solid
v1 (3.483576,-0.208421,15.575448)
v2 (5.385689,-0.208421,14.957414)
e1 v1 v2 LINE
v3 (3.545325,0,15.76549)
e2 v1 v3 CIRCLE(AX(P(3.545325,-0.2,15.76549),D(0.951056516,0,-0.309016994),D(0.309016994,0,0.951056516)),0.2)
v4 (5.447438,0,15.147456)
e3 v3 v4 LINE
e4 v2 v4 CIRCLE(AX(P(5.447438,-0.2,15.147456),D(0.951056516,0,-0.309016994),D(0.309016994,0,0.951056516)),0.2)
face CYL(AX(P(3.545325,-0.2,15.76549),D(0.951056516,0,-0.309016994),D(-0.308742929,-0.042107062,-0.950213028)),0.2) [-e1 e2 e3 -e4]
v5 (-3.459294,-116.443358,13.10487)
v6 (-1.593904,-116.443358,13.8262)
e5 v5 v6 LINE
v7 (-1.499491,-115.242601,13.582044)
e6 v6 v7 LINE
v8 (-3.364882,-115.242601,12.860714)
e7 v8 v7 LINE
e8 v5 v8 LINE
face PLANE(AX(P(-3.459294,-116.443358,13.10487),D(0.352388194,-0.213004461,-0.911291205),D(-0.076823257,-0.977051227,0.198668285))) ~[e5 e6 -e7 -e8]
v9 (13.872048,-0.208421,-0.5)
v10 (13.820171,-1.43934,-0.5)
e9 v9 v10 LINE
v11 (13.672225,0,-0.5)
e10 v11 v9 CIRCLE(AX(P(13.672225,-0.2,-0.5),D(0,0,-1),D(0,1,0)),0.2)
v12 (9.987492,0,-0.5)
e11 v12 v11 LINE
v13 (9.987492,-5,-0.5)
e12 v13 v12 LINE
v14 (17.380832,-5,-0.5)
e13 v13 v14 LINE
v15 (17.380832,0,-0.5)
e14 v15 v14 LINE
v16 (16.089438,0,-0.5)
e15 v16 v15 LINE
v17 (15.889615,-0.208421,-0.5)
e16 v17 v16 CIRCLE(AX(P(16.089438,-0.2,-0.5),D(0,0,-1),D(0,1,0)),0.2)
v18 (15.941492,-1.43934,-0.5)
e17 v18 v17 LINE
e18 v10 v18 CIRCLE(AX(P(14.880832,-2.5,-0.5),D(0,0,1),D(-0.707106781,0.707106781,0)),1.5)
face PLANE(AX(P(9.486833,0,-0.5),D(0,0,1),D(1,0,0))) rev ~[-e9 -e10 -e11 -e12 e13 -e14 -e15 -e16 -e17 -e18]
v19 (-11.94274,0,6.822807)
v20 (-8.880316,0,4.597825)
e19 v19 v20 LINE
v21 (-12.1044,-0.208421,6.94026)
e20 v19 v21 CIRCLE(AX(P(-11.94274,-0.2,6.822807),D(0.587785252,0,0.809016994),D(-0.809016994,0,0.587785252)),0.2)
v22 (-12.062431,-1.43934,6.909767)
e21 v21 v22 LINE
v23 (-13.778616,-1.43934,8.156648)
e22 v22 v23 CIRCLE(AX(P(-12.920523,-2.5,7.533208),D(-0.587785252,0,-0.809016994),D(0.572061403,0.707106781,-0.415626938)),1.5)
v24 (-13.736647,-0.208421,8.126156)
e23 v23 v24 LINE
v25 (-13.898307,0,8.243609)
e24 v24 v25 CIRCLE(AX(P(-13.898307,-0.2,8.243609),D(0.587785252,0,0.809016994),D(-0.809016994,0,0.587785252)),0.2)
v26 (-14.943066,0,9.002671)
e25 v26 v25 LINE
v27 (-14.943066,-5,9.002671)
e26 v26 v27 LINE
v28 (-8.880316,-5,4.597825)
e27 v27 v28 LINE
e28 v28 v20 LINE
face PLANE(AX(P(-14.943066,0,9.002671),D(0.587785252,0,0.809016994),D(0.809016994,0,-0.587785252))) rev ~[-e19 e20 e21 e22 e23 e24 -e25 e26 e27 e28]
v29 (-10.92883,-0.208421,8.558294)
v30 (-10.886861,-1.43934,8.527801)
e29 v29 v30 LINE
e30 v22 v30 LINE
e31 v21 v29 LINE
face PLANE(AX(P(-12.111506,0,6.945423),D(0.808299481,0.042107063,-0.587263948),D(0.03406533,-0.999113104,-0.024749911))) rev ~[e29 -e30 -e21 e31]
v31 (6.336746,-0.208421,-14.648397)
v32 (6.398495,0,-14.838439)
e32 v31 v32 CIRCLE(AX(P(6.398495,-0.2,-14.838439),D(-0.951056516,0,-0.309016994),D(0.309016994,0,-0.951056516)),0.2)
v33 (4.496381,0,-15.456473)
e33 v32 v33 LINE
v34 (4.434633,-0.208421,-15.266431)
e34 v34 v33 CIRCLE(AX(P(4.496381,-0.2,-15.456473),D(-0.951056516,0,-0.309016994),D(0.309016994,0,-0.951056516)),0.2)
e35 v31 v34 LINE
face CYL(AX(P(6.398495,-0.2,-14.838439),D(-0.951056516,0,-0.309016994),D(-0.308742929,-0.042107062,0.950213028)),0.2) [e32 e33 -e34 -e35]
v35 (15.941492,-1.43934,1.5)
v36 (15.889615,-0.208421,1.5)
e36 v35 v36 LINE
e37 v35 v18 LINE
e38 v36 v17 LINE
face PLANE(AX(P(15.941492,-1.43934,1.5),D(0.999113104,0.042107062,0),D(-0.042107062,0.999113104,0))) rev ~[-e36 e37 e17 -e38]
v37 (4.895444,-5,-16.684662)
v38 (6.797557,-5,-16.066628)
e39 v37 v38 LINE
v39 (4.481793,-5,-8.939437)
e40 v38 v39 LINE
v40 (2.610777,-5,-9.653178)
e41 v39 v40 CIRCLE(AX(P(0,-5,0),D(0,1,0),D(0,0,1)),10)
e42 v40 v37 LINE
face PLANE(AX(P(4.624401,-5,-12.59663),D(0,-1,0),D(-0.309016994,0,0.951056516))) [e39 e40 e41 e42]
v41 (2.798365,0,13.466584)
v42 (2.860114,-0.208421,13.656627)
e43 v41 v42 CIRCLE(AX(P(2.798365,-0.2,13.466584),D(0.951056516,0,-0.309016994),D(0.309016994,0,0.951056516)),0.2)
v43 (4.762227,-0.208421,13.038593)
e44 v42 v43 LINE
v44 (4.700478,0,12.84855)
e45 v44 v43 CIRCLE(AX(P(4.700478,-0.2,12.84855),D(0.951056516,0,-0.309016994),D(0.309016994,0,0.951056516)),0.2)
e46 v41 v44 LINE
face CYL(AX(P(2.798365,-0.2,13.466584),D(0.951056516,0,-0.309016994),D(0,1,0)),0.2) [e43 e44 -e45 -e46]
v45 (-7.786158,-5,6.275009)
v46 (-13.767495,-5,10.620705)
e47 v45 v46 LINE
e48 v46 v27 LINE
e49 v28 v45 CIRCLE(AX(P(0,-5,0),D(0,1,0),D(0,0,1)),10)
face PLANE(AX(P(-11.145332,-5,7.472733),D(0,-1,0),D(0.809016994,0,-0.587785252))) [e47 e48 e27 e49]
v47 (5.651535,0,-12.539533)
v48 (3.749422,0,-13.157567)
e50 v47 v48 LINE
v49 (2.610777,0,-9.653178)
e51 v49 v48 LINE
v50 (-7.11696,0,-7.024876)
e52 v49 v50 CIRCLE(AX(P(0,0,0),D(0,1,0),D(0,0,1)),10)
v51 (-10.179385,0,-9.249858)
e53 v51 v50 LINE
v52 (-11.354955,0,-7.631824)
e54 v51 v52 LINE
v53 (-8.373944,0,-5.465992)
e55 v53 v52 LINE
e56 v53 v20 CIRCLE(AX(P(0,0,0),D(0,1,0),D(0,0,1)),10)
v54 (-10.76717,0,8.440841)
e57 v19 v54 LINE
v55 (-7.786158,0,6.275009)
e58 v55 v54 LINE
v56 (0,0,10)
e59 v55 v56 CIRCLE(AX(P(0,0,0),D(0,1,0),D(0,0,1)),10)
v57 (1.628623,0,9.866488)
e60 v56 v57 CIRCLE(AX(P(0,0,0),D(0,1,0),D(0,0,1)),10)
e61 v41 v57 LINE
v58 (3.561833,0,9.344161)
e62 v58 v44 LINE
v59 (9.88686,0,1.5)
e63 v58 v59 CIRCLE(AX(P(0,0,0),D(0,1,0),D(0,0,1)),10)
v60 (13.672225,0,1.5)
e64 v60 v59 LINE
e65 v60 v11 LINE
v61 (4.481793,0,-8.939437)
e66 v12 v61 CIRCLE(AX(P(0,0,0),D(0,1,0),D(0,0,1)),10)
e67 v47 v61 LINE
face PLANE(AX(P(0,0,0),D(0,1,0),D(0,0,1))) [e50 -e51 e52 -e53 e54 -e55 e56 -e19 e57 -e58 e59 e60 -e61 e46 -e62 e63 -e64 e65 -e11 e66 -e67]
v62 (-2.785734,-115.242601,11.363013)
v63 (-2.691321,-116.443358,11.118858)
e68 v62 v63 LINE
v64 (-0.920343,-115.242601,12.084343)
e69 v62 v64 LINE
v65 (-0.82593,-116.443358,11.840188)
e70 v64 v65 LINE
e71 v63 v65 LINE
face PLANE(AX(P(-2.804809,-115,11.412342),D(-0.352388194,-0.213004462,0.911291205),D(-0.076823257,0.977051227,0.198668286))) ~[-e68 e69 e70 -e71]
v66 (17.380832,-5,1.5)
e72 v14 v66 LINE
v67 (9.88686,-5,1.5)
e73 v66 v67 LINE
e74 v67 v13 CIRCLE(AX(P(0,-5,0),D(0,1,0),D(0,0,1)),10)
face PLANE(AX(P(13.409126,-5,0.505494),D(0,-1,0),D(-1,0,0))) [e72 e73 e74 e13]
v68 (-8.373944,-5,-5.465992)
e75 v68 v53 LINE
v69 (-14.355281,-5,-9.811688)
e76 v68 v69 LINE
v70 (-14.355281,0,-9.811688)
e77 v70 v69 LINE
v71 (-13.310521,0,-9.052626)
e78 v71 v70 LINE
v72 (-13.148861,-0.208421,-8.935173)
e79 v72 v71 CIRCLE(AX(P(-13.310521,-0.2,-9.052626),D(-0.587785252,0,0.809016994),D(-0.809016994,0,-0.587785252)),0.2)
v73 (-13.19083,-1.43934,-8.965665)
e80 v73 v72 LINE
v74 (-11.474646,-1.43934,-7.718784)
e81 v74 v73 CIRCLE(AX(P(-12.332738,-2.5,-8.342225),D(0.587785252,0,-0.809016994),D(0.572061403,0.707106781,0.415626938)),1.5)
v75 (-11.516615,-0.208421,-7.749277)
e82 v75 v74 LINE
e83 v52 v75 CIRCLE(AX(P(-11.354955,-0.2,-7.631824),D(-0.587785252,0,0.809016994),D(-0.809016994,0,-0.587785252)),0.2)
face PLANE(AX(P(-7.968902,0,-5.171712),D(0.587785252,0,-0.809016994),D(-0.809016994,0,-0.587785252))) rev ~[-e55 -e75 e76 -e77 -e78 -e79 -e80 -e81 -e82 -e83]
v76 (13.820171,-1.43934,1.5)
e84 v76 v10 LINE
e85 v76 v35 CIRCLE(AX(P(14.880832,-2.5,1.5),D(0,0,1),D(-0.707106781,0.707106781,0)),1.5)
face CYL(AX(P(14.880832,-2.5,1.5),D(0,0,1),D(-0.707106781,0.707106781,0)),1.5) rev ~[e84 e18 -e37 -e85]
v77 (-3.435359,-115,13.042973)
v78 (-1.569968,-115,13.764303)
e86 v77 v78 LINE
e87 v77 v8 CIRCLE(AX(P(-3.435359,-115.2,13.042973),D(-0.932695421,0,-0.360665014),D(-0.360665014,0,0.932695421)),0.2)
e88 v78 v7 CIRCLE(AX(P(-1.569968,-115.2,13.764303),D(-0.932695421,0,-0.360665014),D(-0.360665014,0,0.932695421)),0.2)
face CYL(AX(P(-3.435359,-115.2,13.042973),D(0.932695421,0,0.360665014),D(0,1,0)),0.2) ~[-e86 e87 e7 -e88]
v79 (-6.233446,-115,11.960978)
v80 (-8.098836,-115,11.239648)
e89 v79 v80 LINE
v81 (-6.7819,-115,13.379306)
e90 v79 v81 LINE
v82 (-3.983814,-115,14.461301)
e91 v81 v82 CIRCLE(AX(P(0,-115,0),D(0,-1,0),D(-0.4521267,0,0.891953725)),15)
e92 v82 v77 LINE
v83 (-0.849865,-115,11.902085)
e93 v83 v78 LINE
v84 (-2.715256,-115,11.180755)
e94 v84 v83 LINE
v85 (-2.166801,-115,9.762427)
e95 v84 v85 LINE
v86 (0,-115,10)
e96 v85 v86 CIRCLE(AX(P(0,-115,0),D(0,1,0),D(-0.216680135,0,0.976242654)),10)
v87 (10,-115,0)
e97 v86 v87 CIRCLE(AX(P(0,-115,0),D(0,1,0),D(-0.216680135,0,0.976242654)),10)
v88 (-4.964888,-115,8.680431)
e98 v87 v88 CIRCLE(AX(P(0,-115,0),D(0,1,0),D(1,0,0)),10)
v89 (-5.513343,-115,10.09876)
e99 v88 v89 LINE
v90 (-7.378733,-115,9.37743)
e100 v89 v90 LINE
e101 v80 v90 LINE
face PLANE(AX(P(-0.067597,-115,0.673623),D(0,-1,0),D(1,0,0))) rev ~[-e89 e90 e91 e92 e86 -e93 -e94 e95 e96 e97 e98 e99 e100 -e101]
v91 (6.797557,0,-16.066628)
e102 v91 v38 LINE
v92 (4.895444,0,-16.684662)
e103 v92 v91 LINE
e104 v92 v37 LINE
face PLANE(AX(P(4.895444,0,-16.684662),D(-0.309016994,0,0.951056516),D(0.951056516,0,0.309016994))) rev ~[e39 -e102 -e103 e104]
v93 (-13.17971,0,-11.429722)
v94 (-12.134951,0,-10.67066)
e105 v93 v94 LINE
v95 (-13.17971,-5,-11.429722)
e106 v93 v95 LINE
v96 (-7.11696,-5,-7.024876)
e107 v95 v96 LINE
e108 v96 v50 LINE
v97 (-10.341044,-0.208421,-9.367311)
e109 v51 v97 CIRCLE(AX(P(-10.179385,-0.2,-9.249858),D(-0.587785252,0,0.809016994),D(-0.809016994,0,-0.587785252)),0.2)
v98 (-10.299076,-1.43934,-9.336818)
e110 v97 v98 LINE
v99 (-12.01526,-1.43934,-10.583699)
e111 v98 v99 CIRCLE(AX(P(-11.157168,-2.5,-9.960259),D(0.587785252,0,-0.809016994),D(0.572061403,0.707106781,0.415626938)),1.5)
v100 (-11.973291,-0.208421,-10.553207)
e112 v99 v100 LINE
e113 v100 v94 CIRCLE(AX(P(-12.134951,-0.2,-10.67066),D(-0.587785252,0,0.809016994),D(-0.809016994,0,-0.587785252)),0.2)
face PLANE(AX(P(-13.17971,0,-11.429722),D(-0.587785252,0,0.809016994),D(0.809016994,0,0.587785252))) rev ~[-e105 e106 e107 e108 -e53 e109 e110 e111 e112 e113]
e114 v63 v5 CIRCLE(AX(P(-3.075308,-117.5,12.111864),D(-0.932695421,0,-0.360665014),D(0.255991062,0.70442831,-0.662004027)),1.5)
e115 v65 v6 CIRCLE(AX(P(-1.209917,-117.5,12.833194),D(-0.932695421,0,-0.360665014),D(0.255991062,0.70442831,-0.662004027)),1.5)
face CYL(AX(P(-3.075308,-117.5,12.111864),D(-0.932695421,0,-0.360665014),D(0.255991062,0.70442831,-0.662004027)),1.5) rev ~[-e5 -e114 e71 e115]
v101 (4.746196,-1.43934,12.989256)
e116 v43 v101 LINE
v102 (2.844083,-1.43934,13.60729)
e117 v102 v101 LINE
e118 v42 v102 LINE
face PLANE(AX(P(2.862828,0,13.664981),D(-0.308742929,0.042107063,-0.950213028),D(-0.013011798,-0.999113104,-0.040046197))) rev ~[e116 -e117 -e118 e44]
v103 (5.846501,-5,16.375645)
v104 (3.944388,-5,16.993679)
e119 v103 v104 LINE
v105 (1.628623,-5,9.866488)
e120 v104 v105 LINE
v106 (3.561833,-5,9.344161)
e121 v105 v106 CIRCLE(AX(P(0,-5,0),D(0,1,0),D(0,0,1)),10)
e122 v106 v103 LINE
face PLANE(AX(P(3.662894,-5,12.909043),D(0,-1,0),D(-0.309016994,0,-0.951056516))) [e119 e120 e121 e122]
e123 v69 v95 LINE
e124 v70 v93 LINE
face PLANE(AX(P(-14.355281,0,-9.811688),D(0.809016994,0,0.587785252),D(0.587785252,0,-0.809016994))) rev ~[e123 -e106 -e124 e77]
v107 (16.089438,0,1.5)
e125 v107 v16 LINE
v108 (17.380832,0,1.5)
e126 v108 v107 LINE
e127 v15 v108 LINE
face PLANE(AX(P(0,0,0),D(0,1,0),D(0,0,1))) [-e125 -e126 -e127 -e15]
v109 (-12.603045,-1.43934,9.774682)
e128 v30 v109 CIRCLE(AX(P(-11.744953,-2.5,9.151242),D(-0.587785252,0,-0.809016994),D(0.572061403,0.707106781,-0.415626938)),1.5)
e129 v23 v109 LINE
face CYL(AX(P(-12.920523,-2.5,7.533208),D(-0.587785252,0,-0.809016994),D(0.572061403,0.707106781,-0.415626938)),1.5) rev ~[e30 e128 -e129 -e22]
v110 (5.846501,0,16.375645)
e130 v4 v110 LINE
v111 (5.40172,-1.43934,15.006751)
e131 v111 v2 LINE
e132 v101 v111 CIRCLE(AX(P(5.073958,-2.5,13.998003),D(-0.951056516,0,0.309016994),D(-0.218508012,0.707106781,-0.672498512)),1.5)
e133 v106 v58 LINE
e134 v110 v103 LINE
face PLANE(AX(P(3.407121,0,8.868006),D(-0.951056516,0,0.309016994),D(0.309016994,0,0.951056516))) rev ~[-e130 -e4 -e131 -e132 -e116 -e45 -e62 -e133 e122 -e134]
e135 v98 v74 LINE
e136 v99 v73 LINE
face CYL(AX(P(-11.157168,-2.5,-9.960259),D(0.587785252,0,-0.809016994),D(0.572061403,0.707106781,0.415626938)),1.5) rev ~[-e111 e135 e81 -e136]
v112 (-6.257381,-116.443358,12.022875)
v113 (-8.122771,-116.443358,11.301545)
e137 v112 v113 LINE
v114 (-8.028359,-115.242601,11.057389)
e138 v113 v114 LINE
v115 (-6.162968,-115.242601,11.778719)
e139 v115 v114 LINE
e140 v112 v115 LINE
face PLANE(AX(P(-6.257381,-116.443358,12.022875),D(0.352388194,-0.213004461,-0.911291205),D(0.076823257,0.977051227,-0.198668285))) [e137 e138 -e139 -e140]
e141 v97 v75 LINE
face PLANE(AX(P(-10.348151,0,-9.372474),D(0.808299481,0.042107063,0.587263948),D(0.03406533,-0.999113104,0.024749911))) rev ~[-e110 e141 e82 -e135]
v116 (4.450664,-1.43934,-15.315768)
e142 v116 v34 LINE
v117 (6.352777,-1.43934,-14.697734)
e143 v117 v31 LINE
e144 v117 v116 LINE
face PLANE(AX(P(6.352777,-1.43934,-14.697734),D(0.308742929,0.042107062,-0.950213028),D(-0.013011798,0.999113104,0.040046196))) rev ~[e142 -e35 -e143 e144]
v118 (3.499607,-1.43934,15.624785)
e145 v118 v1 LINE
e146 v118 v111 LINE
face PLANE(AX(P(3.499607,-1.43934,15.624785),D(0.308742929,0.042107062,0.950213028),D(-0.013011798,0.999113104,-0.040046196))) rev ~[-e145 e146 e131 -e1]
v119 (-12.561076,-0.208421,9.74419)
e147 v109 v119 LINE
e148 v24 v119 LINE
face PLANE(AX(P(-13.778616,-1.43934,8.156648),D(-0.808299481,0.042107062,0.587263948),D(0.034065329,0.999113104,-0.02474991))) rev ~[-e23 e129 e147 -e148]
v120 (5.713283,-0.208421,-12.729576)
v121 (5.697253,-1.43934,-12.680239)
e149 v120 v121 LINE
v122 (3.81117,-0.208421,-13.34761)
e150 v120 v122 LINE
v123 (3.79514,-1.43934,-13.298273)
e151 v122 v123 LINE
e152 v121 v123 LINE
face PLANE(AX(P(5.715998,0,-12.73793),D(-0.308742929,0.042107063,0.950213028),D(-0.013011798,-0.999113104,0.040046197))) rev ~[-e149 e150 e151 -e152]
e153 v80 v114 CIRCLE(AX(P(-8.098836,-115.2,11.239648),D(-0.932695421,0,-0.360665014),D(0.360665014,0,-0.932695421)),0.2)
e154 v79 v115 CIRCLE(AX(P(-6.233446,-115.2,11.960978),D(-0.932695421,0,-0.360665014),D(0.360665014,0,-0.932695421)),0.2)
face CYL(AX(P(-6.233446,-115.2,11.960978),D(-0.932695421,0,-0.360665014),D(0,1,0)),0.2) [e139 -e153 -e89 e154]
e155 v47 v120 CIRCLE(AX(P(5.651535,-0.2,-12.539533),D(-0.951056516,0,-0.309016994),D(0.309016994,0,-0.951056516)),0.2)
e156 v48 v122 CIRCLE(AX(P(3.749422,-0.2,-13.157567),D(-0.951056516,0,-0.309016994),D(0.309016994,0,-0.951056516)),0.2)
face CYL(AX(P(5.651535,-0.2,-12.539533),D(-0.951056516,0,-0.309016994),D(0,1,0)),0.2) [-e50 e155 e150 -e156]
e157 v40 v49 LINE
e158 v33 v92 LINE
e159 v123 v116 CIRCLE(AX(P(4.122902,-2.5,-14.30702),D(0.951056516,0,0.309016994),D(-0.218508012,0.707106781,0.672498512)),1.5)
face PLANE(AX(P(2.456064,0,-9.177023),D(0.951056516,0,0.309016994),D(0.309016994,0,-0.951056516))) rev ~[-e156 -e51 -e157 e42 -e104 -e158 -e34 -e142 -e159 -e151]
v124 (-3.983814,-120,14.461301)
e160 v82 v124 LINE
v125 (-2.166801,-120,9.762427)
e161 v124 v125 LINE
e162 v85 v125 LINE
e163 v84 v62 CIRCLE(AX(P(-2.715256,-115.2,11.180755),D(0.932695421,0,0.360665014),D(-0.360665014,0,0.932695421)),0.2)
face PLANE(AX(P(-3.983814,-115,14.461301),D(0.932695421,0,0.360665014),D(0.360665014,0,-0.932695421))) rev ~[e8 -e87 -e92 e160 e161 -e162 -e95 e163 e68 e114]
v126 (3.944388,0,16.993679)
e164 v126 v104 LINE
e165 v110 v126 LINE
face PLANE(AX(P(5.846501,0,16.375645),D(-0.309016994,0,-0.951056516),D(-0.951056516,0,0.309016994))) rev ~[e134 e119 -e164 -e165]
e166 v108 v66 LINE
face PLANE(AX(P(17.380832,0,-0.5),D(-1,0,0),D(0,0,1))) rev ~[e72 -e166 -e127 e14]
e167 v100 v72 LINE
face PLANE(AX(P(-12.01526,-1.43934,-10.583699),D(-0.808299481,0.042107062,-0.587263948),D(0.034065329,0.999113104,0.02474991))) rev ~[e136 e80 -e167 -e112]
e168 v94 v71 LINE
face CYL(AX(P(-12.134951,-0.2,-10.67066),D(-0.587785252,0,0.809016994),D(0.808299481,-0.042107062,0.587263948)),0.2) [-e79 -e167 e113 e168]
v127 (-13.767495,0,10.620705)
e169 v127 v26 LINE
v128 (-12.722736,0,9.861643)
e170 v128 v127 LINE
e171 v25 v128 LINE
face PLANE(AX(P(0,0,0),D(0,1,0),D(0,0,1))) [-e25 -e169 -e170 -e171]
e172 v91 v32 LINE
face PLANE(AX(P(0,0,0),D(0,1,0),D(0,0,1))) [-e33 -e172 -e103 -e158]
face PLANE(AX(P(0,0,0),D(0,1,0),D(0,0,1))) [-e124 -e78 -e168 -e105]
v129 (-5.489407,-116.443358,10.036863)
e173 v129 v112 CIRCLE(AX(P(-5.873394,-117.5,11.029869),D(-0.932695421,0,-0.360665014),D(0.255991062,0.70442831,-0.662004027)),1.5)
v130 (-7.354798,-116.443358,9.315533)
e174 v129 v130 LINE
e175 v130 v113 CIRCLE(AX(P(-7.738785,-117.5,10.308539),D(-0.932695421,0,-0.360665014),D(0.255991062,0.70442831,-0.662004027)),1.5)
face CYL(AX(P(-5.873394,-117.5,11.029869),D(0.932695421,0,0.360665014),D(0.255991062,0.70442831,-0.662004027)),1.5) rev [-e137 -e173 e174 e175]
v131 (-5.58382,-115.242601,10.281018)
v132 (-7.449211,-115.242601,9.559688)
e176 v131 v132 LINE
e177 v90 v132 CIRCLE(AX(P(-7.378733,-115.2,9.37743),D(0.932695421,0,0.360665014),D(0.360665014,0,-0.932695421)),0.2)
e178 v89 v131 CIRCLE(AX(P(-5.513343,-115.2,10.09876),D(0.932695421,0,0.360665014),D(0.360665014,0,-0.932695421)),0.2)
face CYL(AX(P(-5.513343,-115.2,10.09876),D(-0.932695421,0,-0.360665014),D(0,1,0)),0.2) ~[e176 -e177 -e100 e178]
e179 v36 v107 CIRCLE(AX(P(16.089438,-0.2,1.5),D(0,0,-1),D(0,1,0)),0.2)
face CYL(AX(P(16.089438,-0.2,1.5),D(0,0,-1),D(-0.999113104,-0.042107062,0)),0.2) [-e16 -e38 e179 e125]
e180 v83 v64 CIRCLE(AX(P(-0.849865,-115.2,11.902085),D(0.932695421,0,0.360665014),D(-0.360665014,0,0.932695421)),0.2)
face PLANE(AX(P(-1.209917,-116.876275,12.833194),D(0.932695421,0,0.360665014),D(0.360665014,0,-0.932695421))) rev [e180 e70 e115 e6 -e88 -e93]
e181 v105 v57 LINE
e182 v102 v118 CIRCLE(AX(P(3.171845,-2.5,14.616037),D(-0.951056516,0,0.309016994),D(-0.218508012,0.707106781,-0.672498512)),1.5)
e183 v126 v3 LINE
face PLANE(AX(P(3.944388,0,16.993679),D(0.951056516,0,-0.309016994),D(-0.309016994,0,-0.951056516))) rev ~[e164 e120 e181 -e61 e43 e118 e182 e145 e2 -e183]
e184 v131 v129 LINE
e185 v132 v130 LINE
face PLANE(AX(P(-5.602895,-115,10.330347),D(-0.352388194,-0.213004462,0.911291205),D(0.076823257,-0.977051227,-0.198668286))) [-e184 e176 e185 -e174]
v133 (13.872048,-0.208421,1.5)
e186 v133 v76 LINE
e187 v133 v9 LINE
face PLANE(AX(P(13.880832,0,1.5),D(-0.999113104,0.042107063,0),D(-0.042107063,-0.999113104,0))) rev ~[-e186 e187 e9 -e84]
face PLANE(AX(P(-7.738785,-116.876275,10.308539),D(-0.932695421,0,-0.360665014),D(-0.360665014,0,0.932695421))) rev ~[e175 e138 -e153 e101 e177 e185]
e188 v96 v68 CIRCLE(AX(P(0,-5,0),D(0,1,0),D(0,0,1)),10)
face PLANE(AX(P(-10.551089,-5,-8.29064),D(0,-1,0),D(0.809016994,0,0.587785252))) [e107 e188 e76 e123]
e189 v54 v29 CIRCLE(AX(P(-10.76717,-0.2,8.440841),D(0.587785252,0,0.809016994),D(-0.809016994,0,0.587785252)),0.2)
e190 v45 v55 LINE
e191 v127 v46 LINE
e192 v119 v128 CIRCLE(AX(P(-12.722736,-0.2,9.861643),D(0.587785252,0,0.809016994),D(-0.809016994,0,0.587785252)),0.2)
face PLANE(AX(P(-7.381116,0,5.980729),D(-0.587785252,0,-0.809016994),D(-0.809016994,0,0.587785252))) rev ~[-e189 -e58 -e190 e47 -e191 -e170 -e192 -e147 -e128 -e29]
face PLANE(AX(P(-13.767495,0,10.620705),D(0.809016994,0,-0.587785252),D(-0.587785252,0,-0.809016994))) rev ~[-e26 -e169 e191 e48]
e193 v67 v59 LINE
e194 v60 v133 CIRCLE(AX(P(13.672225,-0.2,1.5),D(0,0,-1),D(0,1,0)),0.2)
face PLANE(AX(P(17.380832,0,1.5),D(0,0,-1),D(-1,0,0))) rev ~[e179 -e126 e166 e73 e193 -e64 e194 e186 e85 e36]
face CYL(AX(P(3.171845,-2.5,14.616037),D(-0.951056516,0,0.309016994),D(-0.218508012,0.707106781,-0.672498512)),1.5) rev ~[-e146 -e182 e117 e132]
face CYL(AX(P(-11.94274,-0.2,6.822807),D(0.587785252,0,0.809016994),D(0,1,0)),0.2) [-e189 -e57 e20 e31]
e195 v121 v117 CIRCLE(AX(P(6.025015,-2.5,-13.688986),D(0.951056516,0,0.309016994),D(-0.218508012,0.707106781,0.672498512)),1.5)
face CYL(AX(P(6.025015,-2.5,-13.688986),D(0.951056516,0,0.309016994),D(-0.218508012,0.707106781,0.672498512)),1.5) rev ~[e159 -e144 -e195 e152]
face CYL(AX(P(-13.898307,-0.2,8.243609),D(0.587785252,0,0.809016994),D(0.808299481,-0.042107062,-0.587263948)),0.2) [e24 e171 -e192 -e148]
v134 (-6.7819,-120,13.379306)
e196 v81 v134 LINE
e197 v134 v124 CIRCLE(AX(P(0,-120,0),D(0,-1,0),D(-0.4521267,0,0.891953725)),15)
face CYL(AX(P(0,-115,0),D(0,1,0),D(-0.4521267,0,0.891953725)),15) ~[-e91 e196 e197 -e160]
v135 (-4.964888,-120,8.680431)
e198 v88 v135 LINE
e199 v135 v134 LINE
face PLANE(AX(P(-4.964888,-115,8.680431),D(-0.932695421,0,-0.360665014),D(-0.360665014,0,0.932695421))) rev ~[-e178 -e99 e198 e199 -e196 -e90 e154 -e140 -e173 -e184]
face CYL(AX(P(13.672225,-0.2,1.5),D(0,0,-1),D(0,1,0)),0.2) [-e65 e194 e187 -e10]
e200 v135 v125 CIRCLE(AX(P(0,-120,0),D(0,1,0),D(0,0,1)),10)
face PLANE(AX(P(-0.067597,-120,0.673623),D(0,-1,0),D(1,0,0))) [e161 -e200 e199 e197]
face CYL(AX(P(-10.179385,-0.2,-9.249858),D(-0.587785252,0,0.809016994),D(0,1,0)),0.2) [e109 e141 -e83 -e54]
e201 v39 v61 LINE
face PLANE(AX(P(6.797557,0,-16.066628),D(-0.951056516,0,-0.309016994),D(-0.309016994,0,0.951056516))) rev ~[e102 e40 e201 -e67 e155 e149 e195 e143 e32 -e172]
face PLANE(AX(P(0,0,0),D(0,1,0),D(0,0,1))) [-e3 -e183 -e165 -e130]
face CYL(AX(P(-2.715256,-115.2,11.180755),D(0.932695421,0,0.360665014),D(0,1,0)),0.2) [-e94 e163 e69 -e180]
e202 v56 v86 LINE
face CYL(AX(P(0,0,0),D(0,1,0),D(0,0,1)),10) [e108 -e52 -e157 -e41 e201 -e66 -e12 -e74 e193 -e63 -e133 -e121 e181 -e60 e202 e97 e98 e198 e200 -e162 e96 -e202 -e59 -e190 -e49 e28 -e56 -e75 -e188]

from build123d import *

# Parameters (mm, degrees)
ESQUISSE1_R               = 10
BASE_DEPTH                = 120
BOSS_BALEINE_DEPTH        = 5
VIDE_BALEINE_DEPTH        = 3
REP_SUPPORT_BALEINE_COUNT = 5
CONGE_BALEINE_R           = 0.2
BOSS_EXTRU_3_START        = -5
BOSS_EXTRU_3_DEPTH        = 5
ENL_V_MAT_EXTRU_1_DEPTH   = 2
CONG_1_R                  = 0.2
CONG_1_OF_SYM_VIDE_BLOC_R = 0.2


with BuildPart() as part:
    # Esquisse1 → BASE (new body)
    with BuildSketch(Plane(origin=(0, 0, 0), x_dir=(1, 0, 0), z_dir=(0, 1, 0))):
        with Locations(Location((0, 0, 0), (0, 0, 270))):
            Circle(ESQUISSE1_R)
    extrude(amount=-BASE_DEPTH)

    # Esquisse2 → BOSS - BALEINE (add)
    with BuildSketch(Plane(origin=(0, 0, 0), x_dir=(1, 0, 0), z_dir=(0, 1, 0))):
        with BuildLine():
            ThreePointArc((9.38083152, -1.5), (9.486684928, -0.502801231), (9.486832981, 0.5))
            Line((9.486832981, 0.5), (17.38083152, 0.5))
            Line((17.38083152, 0.5), (17.38083152, -1.5))
            Line((17.38083152, -1.5), (9.38083152, -1.5))
        make_face()
    boss_baleine = extrude(amount=-BOSS_BALEINE_DEPTH)

    # Esquisse3 → VIDE - BALEINE (cut)
    with BuildSketch(Plane.XY.offset(1.5)):
        with BuildLine():
            Line((13.88083152, 0), (13.820171348, -1.439339828))
            ThreePointArc((13.820171348, -1.439339828), (14.88083152, -4), (15.941491691, -1.439339828))
            Line((15.941491691, -1.439339828), (15.88083152, 0))
            Line((15.88083152, 0), (13.88083152, 0))
        make_face()
    vide_baleine = extrude(amount=-VIDE_BALEINE_DEPTH, mode=Mode.SUBTRACT)

    # REP - SUPPORT BALEINE: BOSS - BALEINE, VIDE - BALEINE ×5 about axis
    rep_support_baleine_axis = Axis((0, 0, 0), (0, 1, 0))
    add([boss_baleine.rotate(rep_support_baleine_axis, i * 360 / REP_SUPPORT_BALEINE_COUNT) for i in range(1, REP_SUPPORT_BALEINE_COUNT)])
    add([vide_baleine.rotate(rep_support_baleine_axis, i * 360 / REP_SUPPORT_BALEINE_COUNT) for i in range(1, REP_SUPPORT_BALEINE_COUNT)], mode=Mode.SUBTRACT)

    # CONGE BALEINE
    conge_baleine_edges = [part.edges().sort_by_distance(p)[0] for p in [
        (4.764941094, 0, -13.046946771),
        (5.382975083, 0, -14.949059804),
        (-10.935935969, 0, -8.563456554),
        (-12.553969958, 0, -9.739027059),
        (-11.523721222, 0, 7.75443956),
        (-13.14175521, 0, 8.930010064),
        (3.813884577, 0, 13.355963766),
        (4.431918566, 0, 15.258076798),
        (13.88083152, 0, 0.5),
        (15.88083152, 0, 0.5),
    ]]
    fillet(conge_baleine_edges, radius=CONGE_BALEINE_R)

    # Esquisse4 → Boss.-Extru.3 (add)
    with BuildSketch(Plane.XZ.offset(120).offset(BOSS_EXTRU_3_START)):
        with BuildLine():
            ThreePointArc((10, 0), (-5.017525477, -8.650112027), (-4.964887617, 8.680431496))
            Line((-4.964887617, 8.680431496), (-6.781900496, 13.379305874))
            ThreePointArc((-6.781900496, 13.379305874), (5.409975206, -13.990431311), (-3.983814234, 14.461300915))
            Line((-3.983814234, 14.461300915), (-2.166801355, 9.762426537))
            ThreePointArc((-2.166801355, 9.762426537), (6.258273981, 7.799615809), (10, 0))
        make_face()
    extrude(amount=BOSS_EXTRU_3_DEPTH)

    # Esquisse5 → Enlèv. mat.-Extru.1 (cut)
    with BuildSketch(Plane(origin=(-1.399043131, 0, -0.540997521), x_dir=(0.36066501374715604, 0, -0.9326954207343167), z_dir=(0.9326954207343167, 0, 0.36066501374715604))):
        with BuildLine():
            Line((-13.470498479, -116.443357535), (-13.155835762, -115))
            Line((-13.155835762, -115), (-11.655835762, -115))
            Line((-11.655835762, -115), (-11.341173044, -116.443357535))
            ThreePointArc((-11.341173044, -116.443357535), (-12.405835762, -119), (-13.470498479, -116.443357535))
        make_face()
    enl_v_mat_extru_1 = extrude(amount=-ENL_V_MAT_EXTRU_1_DEPTH, mode=Mode.SUBTRACT)

    # Congé1
    cong_1_edges = [part.edges().sort_by_distance(p)[0] for p in [
        (-7.076588238, -115, 11.368725236),
        (-6.535590717, -115, 9.969682105),
    ]]
    fillet(cong_1_edges, radius=CONG_1_R)

    # SYM VIDE BLOC: Enlèv. mat.-Extru.1 across plane
    add(enl_v_mat_extru_1.mirror(Plane(origin=(0, 0, 0), x_dir=(-0.3606650137471561, 0, 0.9326954207343165), z_dir=(0.9326954207343167, 0, 0.36066501374715604))), mode=Mode.SUBTRACT)

    # Congé1 of SYM VIDE BLOC
    cong_1_of_sym_vide_bloc_edges = [part.edges().sort_by_distance(p)[0] for p in [
        (-2.413111134, -115, 13.172050305),
        (-1.872113613, -115, 11.773007174),
    ]]
    fillet(cong_1_of_sym_vide_bloc_edges, radius=CONG_1_OF_SYM_VIDE_BLOC_R)


solid = part.part
